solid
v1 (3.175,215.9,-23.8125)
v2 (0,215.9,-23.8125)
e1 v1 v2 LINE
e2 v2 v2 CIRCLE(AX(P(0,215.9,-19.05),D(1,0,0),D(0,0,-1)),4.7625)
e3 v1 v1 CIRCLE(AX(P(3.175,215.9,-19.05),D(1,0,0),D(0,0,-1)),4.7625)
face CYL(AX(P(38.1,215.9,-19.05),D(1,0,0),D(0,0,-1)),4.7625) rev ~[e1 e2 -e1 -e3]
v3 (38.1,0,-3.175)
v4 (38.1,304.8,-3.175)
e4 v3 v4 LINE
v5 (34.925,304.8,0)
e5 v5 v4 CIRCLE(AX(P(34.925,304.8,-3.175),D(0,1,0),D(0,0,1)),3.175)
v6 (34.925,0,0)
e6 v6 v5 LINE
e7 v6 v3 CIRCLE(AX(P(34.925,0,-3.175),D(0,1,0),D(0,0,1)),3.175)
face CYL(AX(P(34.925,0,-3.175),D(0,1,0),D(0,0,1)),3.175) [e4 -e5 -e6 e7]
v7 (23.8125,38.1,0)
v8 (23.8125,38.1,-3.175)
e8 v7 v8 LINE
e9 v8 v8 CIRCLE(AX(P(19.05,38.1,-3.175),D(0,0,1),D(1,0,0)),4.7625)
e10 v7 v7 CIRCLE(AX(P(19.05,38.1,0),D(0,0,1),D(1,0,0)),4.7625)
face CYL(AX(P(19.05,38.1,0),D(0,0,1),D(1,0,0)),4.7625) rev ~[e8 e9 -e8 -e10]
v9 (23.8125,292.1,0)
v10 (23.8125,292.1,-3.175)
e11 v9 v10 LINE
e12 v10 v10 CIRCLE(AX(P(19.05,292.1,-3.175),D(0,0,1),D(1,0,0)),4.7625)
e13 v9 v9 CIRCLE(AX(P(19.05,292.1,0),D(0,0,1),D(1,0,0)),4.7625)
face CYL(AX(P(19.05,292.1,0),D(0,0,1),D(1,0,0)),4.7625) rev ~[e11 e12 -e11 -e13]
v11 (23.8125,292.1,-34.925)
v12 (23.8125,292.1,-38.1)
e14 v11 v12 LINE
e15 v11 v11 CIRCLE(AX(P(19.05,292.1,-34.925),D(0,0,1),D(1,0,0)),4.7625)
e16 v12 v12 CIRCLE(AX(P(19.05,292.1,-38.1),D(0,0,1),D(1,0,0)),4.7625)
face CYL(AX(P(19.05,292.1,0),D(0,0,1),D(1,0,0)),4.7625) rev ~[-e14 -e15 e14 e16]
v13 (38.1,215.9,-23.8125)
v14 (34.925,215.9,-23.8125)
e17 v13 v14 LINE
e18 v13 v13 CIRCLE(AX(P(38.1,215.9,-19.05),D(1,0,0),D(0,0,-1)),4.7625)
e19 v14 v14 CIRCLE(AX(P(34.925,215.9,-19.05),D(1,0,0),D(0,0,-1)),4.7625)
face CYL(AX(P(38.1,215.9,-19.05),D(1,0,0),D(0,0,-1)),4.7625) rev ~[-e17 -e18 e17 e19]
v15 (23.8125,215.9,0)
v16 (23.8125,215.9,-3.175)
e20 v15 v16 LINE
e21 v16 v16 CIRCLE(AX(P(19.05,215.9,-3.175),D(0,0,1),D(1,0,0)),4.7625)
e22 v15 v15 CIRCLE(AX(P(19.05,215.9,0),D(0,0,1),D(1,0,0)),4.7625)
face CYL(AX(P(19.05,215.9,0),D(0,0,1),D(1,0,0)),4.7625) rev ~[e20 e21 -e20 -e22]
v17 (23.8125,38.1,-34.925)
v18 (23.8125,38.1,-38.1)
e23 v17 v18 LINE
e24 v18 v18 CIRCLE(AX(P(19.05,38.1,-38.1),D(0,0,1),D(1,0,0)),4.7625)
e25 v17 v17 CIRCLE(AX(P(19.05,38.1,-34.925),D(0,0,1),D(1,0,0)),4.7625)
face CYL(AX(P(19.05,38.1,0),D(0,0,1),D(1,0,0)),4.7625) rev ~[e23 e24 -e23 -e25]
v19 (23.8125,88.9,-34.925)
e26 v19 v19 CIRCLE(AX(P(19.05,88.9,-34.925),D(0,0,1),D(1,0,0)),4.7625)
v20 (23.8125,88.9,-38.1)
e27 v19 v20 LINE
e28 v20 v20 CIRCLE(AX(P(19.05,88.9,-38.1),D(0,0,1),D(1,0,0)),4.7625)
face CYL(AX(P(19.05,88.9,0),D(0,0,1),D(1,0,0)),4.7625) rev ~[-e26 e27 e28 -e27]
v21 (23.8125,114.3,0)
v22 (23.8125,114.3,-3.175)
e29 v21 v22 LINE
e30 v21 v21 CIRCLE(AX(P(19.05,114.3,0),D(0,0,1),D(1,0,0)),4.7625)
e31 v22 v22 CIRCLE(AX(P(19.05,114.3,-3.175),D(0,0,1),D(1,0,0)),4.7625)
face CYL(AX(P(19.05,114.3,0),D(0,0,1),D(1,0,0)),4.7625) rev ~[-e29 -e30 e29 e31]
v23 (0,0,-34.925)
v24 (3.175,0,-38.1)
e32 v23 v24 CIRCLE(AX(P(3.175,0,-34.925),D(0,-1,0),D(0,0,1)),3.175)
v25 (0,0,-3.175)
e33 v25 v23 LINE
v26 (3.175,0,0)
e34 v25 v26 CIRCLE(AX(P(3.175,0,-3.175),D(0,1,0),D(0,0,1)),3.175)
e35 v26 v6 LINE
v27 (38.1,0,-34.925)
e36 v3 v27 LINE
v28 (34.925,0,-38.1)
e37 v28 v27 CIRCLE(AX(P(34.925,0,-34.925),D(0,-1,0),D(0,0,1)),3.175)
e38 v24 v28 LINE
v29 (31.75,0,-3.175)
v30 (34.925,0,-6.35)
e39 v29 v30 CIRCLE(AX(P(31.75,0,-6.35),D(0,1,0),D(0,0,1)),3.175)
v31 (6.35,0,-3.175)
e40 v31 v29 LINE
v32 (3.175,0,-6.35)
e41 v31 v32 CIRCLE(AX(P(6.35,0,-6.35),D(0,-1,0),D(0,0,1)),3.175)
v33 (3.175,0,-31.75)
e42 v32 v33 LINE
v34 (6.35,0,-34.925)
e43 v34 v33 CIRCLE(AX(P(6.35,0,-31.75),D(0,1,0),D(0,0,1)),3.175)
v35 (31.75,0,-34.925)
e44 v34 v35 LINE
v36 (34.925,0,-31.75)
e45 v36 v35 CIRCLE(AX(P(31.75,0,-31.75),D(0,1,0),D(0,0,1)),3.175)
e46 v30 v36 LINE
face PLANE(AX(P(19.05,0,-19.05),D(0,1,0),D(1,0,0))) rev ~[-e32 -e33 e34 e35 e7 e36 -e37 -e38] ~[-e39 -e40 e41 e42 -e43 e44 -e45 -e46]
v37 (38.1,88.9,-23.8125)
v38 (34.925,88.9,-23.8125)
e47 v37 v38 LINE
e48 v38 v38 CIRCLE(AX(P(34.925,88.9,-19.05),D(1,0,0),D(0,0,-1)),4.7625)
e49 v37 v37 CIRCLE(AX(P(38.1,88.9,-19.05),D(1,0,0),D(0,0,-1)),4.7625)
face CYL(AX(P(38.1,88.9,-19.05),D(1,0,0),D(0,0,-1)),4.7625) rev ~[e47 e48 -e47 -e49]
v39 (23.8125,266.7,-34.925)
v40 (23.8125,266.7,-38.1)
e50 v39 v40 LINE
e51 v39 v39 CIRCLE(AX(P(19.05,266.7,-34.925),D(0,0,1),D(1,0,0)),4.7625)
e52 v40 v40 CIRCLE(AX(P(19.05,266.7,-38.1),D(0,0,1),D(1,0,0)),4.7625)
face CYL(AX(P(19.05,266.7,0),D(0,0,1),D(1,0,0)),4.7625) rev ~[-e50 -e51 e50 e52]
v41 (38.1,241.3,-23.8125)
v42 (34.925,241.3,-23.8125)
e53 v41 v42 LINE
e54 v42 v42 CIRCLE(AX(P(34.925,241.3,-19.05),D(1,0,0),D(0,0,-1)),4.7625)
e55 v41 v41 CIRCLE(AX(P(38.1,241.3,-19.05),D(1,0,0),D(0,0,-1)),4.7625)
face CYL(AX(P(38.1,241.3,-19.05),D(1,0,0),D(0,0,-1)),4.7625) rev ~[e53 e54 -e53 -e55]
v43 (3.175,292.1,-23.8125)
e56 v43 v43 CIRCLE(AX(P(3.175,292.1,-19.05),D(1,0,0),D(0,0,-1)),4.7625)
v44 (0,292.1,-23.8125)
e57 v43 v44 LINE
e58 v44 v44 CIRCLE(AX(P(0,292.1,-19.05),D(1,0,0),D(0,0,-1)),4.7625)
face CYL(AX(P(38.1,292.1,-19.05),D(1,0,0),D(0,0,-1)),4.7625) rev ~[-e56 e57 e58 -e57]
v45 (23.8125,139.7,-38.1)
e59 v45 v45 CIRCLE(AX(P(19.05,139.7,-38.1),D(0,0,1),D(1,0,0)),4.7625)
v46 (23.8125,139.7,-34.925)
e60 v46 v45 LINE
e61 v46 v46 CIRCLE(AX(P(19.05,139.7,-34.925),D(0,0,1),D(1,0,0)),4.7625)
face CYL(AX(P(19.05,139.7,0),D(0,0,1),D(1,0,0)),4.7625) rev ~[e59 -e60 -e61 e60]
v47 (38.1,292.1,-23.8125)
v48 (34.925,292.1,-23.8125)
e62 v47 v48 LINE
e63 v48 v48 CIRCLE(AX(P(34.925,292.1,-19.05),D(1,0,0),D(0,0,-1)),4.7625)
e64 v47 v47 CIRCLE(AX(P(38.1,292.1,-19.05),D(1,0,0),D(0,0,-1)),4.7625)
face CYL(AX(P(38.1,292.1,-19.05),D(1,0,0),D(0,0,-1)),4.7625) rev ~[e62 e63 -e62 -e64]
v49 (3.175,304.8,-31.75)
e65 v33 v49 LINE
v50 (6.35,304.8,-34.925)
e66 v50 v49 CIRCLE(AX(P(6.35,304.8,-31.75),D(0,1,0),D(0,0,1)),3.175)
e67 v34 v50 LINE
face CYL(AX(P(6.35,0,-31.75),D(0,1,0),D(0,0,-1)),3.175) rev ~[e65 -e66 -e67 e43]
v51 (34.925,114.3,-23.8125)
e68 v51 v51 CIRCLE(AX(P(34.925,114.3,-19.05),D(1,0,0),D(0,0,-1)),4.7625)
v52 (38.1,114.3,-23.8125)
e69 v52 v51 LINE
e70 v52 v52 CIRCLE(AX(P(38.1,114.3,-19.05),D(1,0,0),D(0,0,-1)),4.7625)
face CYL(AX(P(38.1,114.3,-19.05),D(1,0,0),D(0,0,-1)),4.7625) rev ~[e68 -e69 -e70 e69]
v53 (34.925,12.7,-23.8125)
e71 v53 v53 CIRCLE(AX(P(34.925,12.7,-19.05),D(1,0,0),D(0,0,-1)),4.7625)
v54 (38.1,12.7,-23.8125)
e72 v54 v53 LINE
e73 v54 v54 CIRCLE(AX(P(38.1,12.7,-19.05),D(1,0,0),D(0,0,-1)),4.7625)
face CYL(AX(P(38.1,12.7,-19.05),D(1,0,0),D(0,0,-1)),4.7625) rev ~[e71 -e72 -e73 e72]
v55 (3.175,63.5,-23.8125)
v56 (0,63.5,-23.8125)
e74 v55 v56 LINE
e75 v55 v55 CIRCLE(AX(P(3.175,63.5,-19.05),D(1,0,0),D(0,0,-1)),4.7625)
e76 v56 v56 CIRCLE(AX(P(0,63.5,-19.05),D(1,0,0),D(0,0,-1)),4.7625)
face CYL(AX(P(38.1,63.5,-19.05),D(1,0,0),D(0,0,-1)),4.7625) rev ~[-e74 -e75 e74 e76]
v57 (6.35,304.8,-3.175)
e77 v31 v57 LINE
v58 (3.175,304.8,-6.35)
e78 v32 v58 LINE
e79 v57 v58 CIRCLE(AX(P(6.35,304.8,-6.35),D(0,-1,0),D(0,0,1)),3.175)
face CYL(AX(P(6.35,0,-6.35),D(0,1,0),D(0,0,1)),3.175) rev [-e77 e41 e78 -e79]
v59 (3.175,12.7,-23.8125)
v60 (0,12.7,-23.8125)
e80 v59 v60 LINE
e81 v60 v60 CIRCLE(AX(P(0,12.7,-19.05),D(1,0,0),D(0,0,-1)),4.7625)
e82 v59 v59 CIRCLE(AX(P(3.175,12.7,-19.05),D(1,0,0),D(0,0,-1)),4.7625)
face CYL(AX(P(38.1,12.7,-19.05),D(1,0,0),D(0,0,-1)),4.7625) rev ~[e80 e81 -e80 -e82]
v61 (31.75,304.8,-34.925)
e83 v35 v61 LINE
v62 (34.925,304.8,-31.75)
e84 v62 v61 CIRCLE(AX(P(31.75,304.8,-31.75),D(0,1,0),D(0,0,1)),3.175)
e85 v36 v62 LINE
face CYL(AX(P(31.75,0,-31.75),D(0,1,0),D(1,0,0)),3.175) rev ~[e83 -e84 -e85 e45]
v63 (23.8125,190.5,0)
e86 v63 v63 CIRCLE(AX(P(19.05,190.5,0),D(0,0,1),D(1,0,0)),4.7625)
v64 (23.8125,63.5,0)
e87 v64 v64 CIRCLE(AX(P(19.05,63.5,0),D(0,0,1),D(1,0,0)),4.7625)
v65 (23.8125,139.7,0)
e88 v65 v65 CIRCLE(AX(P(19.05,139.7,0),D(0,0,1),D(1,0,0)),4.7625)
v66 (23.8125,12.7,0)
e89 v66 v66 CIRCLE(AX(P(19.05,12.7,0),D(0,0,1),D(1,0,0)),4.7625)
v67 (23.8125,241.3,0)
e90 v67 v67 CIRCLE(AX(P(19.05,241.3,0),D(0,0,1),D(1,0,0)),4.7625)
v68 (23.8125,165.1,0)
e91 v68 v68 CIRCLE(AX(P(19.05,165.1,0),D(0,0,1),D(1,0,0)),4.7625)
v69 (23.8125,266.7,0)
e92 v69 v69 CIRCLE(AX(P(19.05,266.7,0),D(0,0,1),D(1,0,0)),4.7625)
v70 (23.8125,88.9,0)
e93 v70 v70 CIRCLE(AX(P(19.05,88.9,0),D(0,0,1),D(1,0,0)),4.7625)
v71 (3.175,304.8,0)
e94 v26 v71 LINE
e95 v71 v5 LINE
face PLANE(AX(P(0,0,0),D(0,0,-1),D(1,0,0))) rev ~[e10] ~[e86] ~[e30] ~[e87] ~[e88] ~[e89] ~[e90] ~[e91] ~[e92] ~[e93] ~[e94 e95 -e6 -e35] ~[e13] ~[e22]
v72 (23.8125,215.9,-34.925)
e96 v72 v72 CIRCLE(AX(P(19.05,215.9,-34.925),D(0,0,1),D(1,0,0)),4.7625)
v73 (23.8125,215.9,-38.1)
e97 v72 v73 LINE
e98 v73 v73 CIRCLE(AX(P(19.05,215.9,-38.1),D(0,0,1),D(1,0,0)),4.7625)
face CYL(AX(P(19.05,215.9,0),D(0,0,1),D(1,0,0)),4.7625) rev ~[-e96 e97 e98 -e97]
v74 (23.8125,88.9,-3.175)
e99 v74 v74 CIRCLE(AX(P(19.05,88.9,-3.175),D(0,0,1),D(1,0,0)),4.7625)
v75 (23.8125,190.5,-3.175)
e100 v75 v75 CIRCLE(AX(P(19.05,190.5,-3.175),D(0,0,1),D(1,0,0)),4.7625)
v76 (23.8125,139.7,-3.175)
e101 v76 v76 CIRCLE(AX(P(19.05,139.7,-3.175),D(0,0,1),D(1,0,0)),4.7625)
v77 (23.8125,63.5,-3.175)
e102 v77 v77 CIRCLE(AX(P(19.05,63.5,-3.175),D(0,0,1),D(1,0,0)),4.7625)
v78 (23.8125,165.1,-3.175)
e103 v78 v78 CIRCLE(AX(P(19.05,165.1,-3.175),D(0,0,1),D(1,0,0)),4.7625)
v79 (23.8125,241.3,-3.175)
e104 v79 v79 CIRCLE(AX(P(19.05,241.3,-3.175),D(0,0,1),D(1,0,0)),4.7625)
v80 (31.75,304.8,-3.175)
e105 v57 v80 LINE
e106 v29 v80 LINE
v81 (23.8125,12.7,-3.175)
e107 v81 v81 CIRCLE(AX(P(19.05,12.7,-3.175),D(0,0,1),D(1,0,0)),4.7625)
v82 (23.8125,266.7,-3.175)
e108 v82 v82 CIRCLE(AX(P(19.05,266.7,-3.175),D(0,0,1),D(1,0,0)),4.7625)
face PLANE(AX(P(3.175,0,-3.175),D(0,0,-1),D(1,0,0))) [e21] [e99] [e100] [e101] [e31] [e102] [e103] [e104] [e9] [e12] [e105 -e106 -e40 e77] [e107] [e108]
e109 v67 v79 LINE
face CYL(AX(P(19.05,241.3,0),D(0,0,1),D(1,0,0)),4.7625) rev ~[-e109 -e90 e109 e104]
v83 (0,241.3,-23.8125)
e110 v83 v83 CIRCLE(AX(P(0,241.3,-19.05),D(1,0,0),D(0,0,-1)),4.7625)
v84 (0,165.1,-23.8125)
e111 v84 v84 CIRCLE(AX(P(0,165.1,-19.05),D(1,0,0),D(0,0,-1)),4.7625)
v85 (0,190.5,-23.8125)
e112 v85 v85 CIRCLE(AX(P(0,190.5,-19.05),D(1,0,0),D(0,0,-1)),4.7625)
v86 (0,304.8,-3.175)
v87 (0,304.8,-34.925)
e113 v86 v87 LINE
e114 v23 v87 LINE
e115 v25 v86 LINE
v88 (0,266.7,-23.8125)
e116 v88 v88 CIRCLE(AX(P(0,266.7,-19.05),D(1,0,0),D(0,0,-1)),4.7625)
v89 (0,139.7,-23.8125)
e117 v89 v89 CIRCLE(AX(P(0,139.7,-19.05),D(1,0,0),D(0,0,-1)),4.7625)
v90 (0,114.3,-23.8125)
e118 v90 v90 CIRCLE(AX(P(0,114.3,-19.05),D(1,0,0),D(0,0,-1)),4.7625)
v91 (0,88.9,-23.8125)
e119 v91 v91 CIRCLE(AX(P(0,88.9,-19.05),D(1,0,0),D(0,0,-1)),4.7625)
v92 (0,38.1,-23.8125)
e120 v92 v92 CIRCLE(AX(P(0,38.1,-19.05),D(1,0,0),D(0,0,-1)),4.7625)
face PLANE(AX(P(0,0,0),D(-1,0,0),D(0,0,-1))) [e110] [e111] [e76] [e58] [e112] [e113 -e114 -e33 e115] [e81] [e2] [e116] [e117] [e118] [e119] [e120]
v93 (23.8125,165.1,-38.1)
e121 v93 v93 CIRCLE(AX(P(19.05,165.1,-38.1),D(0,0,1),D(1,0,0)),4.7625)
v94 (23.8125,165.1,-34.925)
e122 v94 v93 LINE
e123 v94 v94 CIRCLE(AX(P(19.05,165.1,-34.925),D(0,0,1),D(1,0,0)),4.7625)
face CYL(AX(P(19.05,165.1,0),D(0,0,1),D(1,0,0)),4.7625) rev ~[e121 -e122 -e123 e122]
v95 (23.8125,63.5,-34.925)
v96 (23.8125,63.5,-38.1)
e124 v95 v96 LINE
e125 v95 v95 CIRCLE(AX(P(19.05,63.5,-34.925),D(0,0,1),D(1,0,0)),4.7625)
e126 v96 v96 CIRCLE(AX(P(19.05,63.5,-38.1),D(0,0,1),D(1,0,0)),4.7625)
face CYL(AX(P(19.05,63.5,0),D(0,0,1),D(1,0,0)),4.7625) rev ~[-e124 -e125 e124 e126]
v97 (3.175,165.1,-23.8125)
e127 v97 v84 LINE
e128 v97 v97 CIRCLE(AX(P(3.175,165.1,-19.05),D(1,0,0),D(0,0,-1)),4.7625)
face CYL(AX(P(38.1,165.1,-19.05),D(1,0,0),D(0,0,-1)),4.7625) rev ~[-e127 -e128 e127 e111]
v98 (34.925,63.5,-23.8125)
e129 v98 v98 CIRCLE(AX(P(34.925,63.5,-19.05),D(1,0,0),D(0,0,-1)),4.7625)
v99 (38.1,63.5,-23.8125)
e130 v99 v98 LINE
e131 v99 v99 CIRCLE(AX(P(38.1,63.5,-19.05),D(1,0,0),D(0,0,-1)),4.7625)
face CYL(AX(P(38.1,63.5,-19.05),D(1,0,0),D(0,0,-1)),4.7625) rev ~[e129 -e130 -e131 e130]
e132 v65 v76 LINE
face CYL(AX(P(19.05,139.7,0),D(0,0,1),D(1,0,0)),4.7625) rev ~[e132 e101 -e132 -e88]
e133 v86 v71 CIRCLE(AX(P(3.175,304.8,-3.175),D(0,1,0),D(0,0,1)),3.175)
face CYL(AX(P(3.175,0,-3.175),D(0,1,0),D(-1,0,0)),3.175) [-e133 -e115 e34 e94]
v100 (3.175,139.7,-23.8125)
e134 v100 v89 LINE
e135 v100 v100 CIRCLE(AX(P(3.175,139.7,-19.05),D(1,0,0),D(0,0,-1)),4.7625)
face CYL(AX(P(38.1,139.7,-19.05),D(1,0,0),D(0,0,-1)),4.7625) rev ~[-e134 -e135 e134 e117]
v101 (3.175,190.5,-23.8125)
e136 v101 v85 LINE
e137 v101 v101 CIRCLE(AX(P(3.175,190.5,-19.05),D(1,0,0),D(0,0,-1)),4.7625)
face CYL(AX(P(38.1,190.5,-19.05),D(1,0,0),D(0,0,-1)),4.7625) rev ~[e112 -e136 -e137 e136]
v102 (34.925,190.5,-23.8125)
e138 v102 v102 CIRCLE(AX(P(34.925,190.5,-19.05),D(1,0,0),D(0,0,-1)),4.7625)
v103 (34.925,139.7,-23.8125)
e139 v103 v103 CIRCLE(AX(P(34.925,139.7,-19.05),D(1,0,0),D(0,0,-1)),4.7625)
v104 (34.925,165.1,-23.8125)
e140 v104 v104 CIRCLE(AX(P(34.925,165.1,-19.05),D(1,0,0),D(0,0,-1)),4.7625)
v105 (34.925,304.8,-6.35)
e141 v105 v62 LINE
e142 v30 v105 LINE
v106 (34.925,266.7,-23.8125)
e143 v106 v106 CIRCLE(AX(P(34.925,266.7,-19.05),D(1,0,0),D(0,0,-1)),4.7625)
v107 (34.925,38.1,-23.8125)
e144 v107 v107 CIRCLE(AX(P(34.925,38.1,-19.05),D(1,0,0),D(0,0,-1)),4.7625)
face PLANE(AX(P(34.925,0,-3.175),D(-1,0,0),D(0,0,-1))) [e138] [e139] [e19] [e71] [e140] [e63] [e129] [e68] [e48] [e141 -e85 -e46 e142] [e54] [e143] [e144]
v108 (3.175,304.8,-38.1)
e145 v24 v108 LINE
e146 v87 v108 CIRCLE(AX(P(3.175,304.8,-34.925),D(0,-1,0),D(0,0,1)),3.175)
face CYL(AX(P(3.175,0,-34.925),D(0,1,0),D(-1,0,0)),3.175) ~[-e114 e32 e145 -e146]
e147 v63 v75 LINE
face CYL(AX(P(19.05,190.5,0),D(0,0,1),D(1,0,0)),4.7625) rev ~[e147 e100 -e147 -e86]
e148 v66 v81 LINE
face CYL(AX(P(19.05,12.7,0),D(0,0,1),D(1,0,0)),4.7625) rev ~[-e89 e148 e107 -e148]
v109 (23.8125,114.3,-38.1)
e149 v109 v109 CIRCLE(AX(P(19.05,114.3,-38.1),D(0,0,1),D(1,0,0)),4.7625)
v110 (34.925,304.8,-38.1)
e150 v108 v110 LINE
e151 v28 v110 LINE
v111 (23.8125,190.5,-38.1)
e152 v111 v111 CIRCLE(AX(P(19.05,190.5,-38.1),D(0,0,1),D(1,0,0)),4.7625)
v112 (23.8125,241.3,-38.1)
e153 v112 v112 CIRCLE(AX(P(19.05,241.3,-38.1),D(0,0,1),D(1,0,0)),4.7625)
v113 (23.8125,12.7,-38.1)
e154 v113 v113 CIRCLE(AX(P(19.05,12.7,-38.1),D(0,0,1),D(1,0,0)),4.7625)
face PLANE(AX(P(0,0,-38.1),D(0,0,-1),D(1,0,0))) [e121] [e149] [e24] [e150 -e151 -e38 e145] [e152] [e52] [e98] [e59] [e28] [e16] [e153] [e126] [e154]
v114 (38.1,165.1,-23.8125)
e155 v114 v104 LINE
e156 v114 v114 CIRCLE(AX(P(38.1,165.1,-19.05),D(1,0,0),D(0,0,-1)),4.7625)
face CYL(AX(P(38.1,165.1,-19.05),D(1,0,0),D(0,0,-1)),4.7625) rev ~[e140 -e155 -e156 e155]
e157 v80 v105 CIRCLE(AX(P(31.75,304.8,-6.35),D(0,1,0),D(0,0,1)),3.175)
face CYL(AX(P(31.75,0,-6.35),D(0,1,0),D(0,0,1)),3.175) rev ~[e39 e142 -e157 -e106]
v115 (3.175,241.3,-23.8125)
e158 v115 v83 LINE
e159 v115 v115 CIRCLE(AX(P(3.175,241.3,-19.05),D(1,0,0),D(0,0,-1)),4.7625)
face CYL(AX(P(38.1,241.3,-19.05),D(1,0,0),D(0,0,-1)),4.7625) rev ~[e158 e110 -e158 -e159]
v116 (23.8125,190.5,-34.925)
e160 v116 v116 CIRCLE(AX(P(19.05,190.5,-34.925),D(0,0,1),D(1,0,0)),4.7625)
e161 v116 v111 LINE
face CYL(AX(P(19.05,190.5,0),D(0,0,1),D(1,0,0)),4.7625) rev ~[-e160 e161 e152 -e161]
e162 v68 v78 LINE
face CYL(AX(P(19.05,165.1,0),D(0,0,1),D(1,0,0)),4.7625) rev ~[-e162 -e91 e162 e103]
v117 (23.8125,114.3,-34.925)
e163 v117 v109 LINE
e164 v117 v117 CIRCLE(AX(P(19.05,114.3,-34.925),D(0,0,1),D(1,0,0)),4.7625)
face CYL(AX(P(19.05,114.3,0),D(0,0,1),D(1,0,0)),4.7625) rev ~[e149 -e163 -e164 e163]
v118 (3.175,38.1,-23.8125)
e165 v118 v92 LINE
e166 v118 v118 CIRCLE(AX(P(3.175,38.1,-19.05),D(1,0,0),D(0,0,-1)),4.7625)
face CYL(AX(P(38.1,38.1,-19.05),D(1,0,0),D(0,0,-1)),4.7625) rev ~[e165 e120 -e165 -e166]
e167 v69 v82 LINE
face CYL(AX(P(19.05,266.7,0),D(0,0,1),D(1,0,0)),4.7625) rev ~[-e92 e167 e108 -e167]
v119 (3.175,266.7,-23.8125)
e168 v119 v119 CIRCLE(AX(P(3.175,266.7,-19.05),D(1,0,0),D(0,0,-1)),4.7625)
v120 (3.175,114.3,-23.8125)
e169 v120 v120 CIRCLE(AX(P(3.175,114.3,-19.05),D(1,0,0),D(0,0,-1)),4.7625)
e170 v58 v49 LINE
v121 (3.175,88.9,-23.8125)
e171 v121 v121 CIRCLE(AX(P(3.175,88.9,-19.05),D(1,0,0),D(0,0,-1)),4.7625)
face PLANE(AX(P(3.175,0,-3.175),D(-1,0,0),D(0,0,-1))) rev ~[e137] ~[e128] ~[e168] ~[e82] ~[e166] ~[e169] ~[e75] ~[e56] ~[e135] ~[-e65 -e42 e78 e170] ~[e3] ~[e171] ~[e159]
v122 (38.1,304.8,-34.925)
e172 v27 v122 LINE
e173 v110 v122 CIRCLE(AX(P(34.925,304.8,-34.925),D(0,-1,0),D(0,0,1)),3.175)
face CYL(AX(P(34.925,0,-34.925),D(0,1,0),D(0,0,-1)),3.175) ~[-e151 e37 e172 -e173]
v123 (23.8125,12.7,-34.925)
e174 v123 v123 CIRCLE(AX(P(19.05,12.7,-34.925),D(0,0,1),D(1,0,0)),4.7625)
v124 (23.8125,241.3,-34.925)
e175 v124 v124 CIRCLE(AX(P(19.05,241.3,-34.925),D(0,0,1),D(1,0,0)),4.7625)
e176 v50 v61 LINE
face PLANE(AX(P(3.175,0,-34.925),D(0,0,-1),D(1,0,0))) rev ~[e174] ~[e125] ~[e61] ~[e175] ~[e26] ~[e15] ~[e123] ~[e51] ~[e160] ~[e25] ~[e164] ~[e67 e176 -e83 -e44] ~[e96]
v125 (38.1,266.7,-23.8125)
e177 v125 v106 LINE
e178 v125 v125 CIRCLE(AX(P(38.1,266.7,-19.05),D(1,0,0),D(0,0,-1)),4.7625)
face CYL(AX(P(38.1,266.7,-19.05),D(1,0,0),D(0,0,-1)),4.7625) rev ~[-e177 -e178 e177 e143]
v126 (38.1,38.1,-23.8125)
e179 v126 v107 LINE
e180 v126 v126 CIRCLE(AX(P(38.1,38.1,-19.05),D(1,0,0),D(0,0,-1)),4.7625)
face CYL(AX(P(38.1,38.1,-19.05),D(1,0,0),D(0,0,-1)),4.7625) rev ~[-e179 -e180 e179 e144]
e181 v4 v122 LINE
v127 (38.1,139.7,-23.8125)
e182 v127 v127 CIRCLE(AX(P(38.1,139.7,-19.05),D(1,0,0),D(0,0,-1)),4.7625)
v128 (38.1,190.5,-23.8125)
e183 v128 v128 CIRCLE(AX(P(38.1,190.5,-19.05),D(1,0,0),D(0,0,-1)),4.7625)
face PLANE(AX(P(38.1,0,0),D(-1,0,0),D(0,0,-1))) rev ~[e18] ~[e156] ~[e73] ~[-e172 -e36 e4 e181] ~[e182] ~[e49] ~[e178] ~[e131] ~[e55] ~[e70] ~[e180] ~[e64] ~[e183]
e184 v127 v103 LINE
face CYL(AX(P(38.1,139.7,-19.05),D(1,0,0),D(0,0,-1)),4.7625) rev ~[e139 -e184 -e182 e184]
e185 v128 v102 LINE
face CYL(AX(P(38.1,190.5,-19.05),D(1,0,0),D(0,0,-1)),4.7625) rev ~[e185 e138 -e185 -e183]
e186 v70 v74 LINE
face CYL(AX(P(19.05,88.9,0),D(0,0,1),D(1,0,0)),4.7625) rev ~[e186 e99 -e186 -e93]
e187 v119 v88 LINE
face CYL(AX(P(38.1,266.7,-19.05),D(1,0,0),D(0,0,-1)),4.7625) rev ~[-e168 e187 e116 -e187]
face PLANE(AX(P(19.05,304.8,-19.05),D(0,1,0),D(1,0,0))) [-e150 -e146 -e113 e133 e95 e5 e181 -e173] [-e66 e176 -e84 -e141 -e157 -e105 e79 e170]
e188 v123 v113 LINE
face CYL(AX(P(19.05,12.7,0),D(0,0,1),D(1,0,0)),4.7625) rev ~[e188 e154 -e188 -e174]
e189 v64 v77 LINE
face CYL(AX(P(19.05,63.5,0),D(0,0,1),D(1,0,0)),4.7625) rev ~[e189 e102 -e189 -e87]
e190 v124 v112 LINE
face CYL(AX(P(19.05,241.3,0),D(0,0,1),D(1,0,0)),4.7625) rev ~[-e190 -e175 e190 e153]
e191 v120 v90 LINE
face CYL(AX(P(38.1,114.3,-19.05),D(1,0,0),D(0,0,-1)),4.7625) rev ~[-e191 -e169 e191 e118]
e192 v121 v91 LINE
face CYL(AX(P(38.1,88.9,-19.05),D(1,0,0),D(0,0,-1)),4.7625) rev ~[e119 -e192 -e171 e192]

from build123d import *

# Parameters (mm, degrees)
SKETCH1_W           = 38.1
SKETCH1_H           = 38.1
SKETCH1_W_2         = 31.75
SKETCH1_H_2         = 31.75
BOSS_EXTRUDE1_DEPTH = 304.8
FILLET1_R           = 3.175
SKETCH2_R           = 4.7625
CUT_EXTRUDE1_DEPTH  = 310.525863217
SKETCH3_R           = 4.7625
CUT_EXTRUDE2_DEPTH  = 310.525863217


with BuildPart() as part:
    # Sketch1 → Boss-Extrude1 (new body)
    with BuildSketch(Plane(origin=(0, 0, 0), x_dir=(1, 0, 0), z_dir=(0, 1, 0))):
        with Locations((19.05, 19.05)):
            Rectangle(SKETCH1_W, SKETCH1_H)
        with Locations((19.05, 19.05)):
            Rectangle(SKETCH1_W_2, SKETCH1_H_2, mode=Mode.SUBTRACT)
    extrude(amount=BOSS_EXTRUDE1_DEPTH)

    # Fillet1
    fillet1_edges = [part.edges().sort_by_distance(p)[0] for p in [
        (3.175, 152.4, -34.925),
        (3.175, 152.4, -3.175),
        (34.925, 152.4, -3.175),
        (34.925, 152.4, -34.925),
        (0, 152.4, -38.1),
        (38.1, 152.4, -38.1),
        (38.1, 152.4, 0),
        (0, 152.4, 0),
    ]]
    fillet(fillet1_edges, radius=FILLET1_R)

    # Sketch2 → Cut-Extrude1 (cut, through all)
    with BuildSketch(Plane.XY):
        with Locations((19.05, 12.7)):
            Circle(SKETCH2_R)
        with Locations((19.05, 38.1)):
            Circle(SKETCH2_R)
        with Locations((19.05, 63.5)):
            Circle(SKETCH2_R)
        with Locations((19.05, 88.9)):
            Circle(SKETCH2_R)
        with Locations((19.05, 114.3)):
            Circle(SKETCH2_R)
        with Locations((19.05, 139.7)):
            Circle(SKETCH2_R)
        with Locations((19.05, 165.1)):
            Circle(SKETCH2_R)
        with Locations((19.05, 190.5)):
            Circle(SKETCH2_R)
        with Locations((19.05, 215.9)):
            Circle(SKETCH2_R)
        with Locations((19.05, 241.3)):
            Circle(SKETCH2_R)
        with Locations((19.05, 266.7)):
            Circle(SKETCH2_R)
        with Locations((19.05, 292.1)):
            Circle(SKETCH2_R)
    extrude(amount=-CUT_EXTRUDE1_DEPTH, mode=Mode.SUBTRACT)

    # Sketch3 → Cut-Extrude2 (cut, through all)
    with BuildSketch(Plane(origin=(38.1, 0, 0), x_dir=(0, 0, -1), z_dir=(1, 0, 0))):
        with Locations((19.05, 12.7)):
            Circle(SKETCH3_R)
        with Locations((19.05, 38.1)):
            Circle(SKETCH3_R)
        with Locations((19.05, 63.5)):
            Circle(SKETCH3_R)
        with Locations((19.05, 88.9)):
            Circle(SKETCH3_R)
        with Locations((19.05, 114.3)):
            Circle(SKETCH3_R)
        with Locations((19.05, 139.7)):
            Circle(SKETCH3_R)
        with Locations((19.05, 165.1)):
            Circle(SKETCH3_R)
        with Locations((19.05, 190.5)):
            Circle(SKETCH3_R)
        with Locations((19.05, 215.9)):
            Circle(SKETCH3_R)
        with Locations((19.05, 241.3)):
            Circle(SKETCH3_R)
        with Locations((19.05, 266.7)):
            Circle(SKETCH3_R)
        with Locations((19.05, 292.1)):
            Circle(SKETCH3_R)
    extrude(amount=-CUT_EXTRUDE2_DEPTH, mode=Mode.SUBTRACT)


solid = part.part
